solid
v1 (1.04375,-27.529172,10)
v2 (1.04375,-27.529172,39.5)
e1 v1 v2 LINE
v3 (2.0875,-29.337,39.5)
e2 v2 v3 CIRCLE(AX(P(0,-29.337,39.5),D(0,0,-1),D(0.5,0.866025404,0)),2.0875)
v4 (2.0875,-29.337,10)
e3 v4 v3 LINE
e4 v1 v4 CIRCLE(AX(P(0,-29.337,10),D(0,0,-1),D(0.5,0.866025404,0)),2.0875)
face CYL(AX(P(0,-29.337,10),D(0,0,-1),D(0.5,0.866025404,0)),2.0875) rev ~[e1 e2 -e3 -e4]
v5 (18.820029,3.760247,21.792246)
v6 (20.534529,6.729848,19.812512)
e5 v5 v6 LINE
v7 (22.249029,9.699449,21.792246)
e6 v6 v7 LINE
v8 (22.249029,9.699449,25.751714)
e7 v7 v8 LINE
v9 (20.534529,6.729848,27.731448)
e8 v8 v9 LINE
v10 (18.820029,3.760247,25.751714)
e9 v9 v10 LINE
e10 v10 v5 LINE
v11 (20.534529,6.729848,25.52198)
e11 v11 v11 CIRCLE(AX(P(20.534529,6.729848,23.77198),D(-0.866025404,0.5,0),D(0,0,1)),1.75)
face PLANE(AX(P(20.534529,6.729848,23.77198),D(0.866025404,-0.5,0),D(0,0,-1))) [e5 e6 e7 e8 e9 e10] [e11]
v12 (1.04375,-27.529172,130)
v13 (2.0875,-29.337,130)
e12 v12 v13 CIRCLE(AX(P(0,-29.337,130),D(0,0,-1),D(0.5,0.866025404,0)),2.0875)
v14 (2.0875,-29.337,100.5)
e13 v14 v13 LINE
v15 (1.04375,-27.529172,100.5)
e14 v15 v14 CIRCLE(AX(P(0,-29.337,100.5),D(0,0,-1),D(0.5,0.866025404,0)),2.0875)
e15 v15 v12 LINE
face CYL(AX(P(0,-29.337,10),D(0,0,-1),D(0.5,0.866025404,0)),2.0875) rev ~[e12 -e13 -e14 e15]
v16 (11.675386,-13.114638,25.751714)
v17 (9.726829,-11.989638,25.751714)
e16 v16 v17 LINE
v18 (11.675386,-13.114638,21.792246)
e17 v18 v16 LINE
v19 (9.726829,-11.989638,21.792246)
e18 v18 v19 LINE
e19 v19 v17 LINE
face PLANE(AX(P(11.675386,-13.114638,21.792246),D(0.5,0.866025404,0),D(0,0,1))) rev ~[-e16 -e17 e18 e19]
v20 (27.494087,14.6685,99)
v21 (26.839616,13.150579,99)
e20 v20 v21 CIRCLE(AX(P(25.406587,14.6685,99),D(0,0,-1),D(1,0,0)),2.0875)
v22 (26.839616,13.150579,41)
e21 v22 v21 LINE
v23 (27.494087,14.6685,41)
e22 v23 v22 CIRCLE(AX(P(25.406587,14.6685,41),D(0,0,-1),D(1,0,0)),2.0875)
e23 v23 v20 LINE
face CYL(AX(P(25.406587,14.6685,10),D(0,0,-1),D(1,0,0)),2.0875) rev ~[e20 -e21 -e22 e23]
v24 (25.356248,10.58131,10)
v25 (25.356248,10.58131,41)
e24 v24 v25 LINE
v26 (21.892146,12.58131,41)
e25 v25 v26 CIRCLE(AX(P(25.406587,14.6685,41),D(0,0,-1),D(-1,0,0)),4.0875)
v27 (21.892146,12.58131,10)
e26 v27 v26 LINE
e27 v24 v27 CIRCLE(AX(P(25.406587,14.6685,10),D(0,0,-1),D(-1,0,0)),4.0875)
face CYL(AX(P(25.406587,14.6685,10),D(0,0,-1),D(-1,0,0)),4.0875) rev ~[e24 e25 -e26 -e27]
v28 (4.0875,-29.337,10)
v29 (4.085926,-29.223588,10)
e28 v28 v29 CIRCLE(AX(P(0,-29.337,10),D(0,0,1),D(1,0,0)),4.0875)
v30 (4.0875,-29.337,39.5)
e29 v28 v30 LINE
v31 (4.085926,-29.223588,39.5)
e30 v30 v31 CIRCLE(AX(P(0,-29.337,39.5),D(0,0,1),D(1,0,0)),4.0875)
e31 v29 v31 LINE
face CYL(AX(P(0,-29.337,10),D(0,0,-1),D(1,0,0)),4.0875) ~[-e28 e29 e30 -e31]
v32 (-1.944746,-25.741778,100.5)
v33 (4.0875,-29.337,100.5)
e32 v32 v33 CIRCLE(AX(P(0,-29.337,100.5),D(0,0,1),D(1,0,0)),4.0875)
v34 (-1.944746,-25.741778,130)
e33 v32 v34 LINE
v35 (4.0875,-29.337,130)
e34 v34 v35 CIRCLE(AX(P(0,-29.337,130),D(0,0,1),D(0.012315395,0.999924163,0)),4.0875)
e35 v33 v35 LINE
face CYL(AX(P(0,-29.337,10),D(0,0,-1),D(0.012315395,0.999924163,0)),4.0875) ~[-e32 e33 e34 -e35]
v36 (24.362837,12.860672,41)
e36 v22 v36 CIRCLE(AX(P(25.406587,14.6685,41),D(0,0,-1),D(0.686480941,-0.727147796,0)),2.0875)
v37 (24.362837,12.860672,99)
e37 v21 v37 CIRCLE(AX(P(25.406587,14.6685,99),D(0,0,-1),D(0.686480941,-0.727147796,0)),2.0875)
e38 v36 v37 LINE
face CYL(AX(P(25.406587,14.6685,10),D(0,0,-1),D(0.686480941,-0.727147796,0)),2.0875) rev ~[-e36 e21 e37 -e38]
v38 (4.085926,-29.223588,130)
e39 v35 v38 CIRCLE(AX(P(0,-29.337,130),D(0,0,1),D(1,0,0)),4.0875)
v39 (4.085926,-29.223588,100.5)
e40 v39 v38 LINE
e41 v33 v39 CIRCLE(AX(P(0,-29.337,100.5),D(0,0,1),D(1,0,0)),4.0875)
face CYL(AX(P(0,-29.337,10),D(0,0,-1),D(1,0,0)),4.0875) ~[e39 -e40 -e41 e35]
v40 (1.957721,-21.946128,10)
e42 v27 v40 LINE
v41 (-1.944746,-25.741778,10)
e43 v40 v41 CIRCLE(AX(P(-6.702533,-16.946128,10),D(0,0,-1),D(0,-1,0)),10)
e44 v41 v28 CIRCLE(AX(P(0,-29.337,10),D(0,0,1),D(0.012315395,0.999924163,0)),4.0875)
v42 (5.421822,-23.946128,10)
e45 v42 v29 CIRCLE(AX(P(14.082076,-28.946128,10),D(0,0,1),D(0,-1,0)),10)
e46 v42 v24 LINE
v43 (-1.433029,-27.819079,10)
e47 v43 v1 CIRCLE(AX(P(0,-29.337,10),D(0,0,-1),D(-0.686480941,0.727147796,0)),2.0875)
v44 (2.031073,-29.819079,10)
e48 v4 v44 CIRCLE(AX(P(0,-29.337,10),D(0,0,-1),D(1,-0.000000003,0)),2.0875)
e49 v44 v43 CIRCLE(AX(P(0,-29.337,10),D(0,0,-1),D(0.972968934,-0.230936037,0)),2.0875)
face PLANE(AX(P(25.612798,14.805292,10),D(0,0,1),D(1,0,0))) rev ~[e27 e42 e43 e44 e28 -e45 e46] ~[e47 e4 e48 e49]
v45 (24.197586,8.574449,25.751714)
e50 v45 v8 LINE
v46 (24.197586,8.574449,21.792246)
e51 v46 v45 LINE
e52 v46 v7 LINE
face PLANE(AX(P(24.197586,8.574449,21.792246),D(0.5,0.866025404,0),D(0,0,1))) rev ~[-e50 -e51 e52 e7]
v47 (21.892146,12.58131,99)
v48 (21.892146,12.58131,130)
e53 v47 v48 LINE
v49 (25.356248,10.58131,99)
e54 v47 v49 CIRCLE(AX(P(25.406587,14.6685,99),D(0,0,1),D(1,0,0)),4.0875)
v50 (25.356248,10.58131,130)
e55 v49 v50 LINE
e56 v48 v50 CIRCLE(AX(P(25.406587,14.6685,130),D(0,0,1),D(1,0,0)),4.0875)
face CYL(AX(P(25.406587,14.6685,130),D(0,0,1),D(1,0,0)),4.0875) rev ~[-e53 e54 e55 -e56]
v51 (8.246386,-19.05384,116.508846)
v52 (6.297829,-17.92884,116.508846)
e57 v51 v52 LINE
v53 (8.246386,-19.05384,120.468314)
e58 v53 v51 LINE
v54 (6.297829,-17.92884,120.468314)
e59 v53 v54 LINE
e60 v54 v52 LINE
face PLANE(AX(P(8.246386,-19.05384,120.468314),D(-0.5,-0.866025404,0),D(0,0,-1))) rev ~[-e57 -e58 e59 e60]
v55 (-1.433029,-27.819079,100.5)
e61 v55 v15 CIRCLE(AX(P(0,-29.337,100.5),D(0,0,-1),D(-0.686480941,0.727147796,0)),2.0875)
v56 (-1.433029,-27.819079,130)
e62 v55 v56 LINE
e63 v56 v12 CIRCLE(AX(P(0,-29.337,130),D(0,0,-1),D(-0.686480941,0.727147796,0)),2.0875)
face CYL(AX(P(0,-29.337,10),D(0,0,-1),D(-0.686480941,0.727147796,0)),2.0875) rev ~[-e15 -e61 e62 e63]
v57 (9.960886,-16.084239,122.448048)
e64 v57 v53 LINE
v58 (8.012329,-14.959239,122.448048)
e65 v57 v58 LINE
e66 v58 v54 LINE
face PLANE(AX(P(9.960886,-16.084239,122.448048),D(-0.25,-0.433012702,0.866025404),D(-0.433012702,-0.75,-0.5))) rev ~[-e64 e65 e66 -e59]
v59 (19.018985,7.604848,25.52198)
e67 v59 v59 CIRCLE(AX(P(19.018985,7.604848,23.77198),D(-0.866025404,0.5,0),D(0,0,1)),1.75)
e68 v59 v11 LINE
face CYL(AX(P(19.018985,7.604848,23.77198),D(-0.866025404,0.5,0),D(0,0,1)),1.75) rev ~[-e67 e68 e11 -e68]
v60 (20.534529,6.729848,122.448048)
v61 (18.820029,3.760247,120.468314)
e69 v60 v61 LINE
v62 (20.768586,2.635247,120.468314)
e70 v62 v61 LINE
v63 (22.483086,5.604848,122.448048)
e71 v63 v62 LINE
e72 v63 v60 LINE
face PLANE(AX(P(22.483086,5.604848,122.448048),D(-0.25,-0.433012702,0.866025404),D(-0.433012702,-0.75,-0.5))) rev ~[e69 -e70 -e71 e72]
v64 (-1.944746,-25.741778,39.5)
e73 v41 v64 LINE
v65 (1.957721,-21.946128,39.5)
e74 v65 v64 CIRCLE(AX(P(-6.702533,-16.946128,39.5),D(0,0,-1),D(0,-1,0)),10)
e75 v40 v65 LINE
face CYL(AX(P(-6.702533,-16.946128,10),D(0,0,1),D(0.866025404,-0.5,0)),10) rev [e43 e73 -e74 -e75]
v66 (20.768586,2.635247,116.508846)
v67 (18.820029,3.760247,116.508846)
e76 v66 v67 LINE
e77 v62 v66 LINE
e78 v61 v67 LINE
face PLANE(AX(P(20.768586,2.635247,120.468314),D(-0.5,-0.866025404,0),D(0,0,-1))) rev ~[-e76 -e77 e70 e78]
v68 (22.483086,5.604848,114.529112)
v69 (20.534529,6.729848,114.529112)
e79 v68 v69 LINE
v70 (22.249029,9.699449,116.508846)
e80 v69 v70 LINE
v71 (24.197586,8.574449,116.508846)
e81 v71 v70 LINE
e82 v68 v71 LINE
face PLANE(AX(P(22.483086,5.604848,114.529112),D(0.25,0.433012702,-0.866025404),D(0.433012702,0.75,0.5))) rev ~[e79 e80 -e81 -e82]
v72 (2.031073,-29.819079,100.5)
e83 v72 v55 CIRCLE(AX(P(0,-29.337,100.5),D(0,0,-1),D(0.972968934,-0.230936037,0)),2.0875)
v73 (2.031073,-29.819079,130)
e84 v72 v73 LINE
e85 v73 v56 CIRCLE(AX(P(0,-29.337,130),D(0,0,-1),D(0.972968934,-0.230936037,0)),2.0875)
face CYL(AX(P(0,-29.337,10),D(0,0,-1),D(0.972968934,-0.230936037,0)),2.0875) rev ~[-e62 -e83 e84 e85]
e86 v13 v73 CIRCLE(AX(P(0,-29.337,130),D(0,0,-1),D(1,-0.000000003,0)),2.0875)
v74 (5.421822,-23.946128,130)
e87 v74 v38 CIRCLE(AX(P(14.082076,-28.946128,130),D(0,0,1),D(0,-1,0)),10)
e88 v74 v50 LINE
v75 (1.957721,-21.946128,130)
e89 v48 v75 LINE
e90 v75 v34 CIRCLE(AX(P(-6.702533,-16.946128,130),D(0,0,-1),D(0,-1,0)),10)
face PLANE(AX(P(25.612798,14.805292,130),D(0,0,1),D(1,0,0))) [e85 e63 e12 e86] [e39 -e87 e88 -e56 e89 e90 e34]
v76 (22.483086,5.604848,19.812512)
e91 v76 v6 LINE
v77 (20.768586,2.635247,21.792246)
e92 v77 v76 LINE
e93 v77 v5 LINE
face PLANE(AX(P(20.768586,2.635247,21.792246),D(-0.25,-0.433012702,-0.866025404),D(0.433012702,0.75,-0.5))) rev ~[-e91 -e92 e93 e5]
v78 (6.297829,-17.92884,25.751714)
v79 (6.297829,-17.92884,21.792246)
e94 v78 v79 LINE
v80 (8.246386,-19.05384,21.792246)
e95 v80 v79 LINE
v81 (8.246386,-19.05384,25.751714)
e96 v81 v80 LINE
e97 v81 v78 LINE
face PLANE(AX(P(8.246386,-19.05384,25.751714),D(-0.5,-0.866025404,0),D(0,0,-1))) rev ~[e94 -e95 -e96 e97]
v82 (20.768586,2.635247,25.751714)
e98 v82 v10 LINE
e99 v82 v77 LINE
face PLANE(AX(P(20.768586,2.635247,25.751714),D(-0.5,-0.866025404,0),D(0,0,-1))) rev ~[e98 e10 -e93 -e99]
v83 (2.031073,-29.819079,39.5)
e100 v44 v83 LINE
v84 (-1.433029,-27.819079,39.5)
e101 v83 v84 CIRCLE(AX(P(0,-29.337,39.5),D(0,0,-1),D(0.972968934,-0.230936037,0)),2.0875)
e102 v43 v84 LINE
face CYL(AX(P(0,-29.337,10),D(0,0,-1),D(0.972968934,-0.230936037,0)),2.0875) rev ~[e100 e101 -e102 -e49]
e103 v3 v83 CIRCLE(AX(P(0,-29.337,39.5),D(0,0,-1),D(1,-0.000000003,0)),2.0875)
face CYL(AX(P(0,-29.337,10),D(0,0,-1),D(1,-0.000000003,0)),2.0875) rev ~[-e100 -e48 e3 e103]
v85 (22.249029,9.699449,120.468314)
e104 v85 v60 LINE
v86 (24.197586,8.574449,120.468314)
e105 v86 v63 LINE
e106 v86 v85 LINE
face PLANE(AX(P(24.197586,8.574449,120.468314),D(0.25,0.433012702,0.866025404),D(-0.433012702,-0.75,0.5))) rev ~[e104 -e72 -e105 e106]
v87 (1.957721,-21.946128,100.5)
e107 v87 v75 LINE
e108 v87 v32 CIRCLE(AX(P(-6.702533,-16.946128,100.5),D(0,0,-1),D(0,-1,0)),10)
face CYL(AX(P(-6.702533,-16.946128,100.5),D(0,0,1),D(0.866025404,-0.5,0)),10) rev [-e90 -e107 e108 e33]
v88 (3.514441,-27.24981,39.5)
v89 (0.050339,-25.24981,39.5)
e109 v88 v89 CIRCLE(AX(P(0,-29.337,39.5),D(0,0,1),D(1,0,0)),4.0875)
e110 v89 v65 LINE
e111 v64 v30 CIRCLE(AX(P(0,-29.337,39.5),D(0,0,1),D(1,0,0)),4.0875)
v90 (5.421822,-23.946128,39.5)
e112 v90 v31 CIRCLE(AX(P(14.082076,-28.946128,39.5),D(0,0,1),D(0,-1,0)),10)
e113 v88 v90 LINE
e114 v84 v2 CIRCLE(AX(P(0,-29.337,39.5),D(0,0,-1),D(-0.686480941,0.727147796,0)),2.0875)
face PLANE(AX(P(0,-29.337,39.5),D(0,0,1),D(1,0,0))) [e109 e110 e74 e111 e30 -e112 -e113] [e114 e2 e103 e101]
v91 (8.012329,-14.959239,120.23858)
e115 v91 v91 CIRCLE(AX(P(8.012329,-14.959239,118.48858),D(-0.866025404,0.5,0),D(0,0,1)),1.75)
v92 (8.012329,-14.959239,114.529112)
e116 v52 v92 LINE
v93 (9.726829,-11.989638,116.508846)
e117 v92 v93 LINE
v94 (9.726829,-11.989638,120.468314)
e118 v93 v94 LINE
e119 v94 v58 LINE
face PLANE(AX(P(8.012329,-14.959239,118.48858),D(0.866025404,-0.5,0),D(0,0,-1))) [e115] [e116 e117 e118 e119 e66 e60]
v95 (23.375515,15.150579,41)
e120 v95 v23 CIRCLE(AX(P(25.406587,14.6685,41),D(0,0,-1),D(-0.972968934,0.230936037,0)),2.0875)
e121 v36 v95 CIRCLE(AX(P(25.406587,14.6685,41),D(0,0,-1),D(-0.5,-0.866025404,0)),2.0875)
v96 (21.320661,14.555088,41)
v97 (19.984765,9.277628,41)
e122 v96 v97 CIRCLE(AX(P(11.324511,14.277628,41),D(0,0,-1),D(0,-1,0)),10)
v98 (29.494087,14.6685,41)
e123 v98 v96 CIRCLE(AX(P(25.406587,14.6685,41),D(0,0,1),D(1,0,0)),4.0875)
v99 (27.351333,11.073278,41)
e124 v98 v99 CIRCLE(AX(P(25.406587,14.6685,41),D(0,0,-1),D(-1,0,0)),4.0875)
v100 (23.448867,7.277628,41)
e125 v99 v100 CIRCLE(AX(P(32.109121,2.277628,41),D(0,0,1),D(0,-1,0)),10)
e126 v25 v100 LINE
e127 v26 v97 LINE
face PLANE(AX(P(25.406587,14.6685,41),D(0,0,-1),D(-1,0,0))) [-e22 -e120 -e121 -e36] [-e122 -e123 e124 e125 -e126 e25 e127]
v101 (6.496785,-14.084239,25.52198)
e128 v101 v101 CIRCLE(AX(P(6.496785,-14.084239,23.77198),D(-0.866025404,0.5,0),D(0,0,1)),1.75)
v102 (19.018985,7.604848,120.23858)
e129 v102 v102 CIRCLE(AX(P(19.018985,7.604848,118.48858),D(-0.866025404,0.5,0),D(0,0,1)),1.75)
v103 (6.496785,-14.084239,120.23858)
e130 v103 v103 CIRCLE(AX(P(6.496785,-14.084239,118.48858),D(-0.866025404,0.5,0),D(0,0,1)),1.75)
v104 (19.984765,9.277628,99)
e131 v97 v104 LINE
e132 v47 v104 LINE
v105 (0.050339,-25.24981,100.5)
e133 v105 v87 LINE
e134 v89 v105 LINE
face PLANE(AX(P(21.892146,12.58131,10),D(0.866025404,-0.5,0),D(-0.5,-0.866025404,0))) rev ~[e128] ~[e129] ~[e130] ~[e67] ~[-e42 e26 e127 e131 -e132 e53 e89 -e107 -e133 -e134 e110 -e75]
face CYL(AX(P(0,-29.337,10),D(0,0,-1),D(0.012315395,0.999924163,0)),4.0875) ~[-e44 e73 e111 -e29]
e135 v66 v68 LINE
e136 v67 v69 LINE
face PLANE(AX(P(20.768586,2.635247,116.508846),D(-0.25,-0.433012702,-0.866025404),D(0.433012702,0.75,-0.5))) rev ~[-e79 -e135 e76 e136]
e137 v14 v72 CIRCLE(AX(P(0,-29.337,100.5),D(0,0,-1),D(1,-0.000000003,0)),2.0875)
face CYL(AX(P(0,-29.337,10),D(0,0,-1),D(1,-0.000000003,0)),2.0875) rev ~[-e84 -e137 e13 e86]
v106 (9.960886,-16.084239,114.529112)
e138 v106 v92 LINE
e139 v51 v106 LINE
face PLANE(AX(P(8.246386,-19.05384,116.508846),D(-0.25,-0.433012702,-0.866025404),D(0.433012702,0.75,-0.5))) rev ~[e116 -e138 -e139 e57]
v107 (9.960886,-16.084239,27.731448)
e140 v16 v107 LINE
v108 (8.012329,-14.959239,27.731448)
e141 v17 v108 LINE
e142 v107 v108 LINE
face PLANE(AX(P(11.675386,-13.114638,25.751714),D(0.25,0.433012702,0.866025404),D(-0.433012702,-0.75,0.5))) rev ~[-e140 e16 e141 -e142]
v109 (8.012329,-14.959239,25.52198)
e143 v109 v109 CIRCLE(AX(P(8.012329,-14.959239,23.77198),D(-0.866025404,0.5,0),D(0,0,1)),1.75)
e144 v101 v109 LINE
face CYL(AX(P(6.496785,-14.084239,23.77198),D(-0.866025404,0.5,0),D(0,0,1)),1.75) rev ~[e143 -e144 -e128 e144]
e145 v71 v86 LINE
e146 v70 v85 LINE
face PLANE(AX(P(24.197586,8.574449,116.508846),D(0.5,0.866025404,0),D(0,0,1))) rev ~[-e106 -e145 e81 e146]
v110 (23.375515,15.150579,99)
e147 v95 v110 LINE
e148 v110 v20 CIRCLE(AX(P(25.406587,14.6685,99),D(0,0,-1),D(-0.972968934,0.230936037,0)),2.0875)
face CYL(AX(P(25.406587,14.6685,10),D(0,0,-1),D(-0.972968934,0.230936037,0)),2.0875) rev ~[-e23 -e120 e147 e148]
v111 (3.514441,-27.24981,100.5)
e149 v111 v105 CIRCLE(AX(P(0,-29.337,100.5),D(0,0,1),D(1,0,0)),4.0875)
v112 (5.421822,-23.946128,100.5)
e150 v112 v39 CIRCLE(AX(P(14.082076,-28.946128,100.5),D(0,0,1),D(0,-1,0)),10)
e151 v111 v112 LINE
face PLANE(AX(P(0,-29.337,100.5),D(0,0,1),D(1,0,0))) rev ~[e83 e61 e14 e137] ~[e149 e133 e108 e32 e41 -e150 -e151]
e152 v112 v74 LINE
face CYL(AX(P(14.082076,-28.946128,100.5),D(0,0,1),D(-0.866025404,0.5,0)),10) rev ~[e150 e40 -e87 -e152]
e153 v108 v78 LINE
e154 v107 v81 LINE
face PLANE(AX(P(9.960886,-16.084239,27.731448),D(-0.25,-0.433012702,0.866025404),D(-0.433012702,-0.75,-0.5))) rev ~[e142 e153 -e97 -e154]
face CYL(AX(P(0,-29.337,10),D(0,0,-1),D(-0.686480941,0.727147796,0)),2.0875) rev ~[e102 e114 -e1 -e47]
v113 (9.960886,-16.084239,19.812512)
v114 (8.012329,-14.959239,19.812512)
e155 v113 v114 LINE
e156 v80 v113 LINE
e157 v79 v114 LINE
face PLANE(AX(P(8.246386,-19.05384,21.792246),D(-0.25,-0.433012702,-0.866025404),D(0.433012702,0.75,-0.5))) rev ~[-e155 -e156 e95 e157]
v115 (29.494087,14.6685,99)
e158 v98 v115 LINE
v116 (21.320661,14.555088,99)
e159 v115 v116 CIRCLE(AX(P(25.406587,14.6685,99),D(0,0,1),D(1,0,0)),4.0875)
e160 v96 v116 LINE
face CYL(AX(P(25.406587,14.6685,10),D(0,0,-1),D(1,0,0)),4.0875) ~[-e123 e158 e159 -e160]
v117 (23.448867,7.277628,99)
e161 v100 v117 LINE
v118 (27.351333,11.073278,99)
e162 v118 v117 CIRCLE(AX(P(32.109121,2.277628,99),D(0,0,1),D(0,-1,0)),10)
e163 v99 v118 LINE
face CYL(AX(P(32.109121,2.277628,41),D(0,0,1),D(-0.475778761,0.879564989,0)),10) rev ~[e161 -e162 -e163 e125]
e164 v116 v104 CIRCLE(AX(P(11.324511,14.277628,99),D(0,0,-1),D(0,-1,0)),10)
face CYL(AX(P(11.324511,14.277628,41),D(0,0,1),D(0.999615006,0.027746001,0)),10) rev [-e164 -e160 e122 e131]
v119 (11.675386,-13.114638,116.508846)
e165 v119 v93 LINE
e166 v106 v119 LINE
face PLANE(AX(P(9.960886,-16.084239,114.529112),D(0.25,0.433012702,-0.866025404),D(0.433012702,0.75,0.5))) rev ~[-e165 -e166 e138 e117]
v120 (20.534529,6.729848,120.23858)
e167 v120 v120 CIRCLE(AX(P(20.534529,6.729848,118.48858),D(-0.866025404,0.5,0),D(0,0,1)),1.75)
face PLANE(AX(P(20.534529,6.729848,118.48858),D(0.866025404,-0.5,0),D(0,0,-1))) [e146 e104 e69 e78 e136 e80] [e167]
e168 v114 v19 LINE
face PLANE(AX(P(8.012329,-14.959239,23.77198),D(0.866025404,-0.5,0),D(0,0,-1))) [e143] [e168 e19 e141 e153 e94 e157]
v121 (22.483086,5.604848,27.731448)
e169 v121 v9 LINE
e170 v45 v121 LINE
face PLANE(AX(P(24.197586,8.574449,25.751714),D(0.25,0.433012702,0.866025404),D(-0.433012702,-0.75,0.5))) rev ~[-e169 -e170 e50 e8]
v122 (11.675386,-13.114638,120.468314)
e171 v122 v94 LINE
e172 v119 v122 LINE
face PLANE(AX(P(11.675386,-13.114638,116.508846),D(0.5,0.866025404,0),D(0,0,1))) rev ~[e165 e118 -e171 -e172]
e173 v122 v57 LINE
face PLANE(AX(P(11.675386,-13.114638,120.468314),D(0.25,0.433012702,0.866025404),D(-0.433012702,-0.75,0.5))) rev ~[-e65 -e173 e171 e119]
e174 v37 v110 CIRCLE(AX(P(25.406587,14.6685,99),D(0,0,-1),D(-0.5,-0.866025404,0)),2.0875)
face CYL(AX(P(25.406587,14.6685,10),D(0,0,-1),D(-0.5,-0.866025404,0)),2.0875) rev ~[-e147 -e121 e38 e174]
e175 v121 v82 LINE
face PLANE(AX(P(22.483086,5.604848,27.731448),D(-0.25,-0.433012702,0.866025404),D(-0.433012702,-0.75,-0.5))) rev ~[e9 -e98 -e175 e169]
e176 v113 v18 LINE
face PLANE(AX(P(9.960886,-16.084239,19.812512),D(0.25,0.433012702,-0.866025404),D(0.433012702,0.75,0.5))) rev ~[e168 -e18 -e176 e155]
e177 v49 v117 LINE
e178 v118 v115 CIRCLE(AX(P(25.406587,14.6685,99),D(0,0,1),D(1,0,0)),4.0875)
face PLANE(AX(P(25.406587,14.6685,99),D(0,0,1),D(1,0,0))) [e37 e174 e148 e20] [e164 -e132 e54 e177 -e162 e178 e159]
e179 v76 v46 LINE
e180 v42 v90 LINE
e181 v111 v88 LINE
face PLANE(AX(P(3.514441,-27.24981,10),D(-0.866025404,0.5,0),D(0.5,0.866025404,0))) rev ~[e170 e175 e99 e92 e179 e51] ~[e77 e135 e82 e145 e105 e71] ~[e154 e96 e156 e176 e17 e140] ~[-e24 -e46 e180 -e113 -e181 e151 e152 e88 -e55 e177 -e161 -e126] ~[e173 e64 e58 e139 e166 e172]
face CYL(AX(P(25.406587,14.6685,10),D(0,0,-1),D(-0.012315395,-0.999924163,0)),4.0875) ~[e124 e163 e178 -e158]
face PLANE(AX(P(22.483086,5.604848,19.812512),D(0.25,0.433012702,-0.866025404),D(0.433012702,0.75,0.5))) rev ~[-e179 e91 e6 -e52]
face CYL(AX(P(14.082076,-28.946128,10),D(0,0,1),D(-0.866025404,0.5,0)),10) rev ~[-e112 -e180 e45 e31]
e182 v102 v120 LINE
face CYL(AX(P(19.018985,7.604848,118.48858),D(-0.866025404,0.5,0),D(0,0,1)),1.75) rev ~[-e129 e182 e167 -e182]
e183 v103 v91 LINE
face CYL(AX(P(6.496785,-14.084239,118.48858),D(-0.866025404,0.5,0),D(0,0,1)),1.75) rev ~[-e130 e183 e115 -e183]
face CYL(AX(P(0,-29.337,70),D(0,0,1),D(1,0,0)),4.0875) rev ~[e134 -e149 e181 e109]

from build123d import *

# Parameters (mm, degrees)
SKETCH2_R               = 1.5875
BOSS_EXTRUDE1_DEPTH     = 10
BOSS_EXTRUDE2_DEPTH     = 120
SKETCH4_R               = 4.0875
CUT_EXTRUDE1_DEPTH      = 30.5
CUT_EXTRUDE1_DEPTH_BACK = 30.5
SKETCH5_R               = 4.0875
CUT_EXTRUDE2_DEPTH      = 31
SKETCH6_R               = 4.0875
CUT_EXTRUDE3_DEPTH      = 31
FILLET1_R               = 10
SKETCH7_R               = 1.75
CUT_EXTRUDE4_DEPTH      = 4
CUT_EXTRUDE5_DEPTH      = 2.25


with BuildPart() as part:
    # Sketch2 → Boss-Extrude1 (new body)
    with BuildSketch(Plane.XY):
        with BuildLine():
            Line((0, -27.7495), (0, 0))
            Line((0, 0), (38.1, 0))
            ThreePointArc((38.1, 0), (-26.940768363, 26.940768363), (0, -38.1))
            Line((0, -38.1), (0, -30.9245))
            ThreePointArc((0, -30.9245), (-1.5875, -29.337), (0, -27.7495))
        make_face()
        with Locations((-25.406587271, 14.6685)):
            Circle(SKETCH2_R, mode=Mode.SUBTRACT)
        with Locations((25.406587271, 14.6685)):
            Circle(SKETCH2_R, mode=Mode.SUBTRACT)
        with BuildLine():
            Line((38.1, 0), (0, 0))
            Line((0, 0), (0, -27.7495))
            ThreePointArc((0, -27.7495), (1.122532015, -28.214467985), (1.5875, -29.337))
            ThreePointArc((1.5875, -29.337), (1.122532015, -30.459532015), (0, -30.9245))
            Line((0, -30.9245), (0, -38.1))
            ThreePointArc((0, -38.1), (26.940768363, -26.940768363), (38.1, 0))
        make_face()
    extrude(amount=BOSS_EXTRUDE1_DEPTH)


with BuildPart() as body_2:
    # Sketch3 → Boss-Extrude2 (new body)
    with BuildSketch(Plane.XY.offset(10)):
        with BuildLine():
            ThreePointArc((29.494087271, 14.6685), (24.324372064, 18.610132466), (21.892146477, 12.581309985))
            Line((21.892146477, 12.581309985), (23.37551462, 15.150578976))
            ThreePointArc((23.37551462, 15.150578976), (25.649272347, 16.741845172), (27.494087271, 14.6685))
            ThreePointArc((27.494087271, 14.6685), (27.323499399, 13.841998855), (26.839616236, 13.150578976))
            Line((26.839616236, 13.150578976), (25.356248092, 10.581309985))
            ThreePointArc((25.356248092, 10.581309985), (28.279033516, 11.760457906), (29.494087271, 14.6685))
        make_face()
        with BuildLine():
            Line((24.362837271, 12.86067197), (23.362837271, 11.128621162))
            ThreePointArc((23.362837271, 11.128621162), (24.324372064, 10.726867534), (25.356248092, 10.581309985))
            Line((25.356248092, 10.581309985), (26.839616236, 13.150578976))
            ThreePointArc((26.839616236, 13.150578976), (25.649272347, 12.595154828), (24.362837271, 12.86067197))
        make_face()
        with BuildLine():
            ThreePointArc((21.892146477, 12.581309985), (22.534141026, 11.760457906), (23.362837271, 11.128621162))
            Line((23.362837271, 11.128621162), (24.362837271, 12.86067197))
            ThreePointArc((24.362837271, 12.86067197), (23.489675143, 13.841998855), (23.37551462, 15.150578976))
            Line((23.37551462, 15.150578976), (21.892146477, 12.581309985))
        make_face()
        with BuildLine():
            Line((23.362837271, 11.128621162), (2.04375, -25.797121162))
            ThreePointArc((2.04375, -25.797121162), (2.872446245, -26.428957906), (3.514440794, -27.249809985))
            Line((3.514440794, -27.249809985), (25.356248092, 10.581309985))
            ThreePointArc((25.356248092, 10.581309985), (24.324372064, 10.726867534), (23.362837271, 11.128621162))
        make_face()
        with BuildLine():
            ThreePointArc((0.050339179, -25.249809985), (1.082215206, -25.395367534), (2.04375, -25.797121162))
            Line((2.04375, -25.797121162), (23.362837271, 11.128621162))
            ThreePointArc((23.362837271, 11.128621162), (22.534141026, 11.760457906), (21.892146477, 12.581309985))
            Line((21.892146477, 12.581309985), (0.050339179, -25.249809985))
        make_face()
        with BuildLine():
            ThreePointArc((-1.433028965, -27.819078976), (-0.242685076, -27.263654828), (1.04375, -27.52917197))
            Line((1.04375, -27.52917197), (2.04375, -25.797121162))
            ThreePointArc((2.04375, -25.797121162), (1.082215206, -25.395367534), (0.050339179, -25.249809985))
            Line((0.050339179, -25.249809985), (-1.433028965, -27.819078976))
        make_face()
        with BuildLine():
            Line((2.04375, -25.797121162), (1.04375, -27.52917197))
            ThreePointArc((1.04375, -27.52917197), (1.80782803, -28.29325), (2.0875, -29.337))
            ThreePointArc((2.0875, -29.337), (2.073345172, -29.579685076), (2.03107265, -29.819078976))
            Line((2.03107265, -29.819078976), (3.514440794, -27.249809985))
            ThreePointArc((3.514440794, -27.249809985), (2.872446245, -26.428957906), (2.04375, -25.797121162))
        make_face()
        with BuildLine():
            ThreePointArc((2.03107265, -29.819078976), (-1.04375, -31.14482803), (-1.433028965, -27.819078976))
            Line((-1.433028965, -27.819078976), (0.050339179, -25.249809985))
            ThreePointArc((0.050339179, -25.249809985), (-2.908042094, -32.209446245), (4.0875, -29.337))
            ThreePointArc((4.0875, -29.337), (3.941632466, -28.254784794), (3.514440794, -27.249809985))
            Line((3.514440794, -27.249809985), (2.03107265, -29.819078976))
        make_face()
    extrude(amount=BOSS_EXTRUDE2_DEPTH)

    # Sketch4 → Cut-Extrude1 (cut, two sides)
    with BuildSketch(Plane.XY.offset(70)) as cut_extrude1_sk:
        with Locations((0, -29.337)):
            Circle(SKETCH4_R)
    extrude(amount=CUT_EXTRUDE1_DEPTH, mode=Mode.SUBTRACT)
    extrude(cut_extrude1_sk.sketch, amount=-CUT_EXTRUDE1_DEPTH_BACK, mode=Mode.SUBTRACT)

    # Sketch5 → Cut-Extrude2 (cut)
    with BuildSketch(Plane(origin=(0, 0, 10), x_dir=(-1, 0, 0), z_dir=(0, 0, -1))):
        with Locations((-25.406587271, 14.6685)):
            Circle(SKETCH5_R)
    extrude(amount=-CUT_EXTRUDE2_DEPTH, mode=Mode.SUBTRACT)

    # Sketch6 → Cut-Extrude3 (cut)
    with BuildSketch(Plane.XY.offset(130)):
        with Locations((25.406587271, 14.6685)):
            Circle(SKETCH6_R)
    extrude(amount=-CUT_EXTRUDE3_DEPTH, mode=Mode.SUBTRACT)

    # Fillet1
    fillet1_edges = [body_2.edges().sort_by_distance(p)[0] for p in [
        (0.050339179, -25.249809985, 115.25),
        (3.514440794, -27.249809985, 115.25),
        (0.050339179, -25.249809985, 24.75),
        (3.514440794, -27.249809985, 24.75),
        (21.892146477, 12.581309985, 70),
        (25.356248092, 10.581309985, 70),
    ]]
    fillet(fillet1_edges, radius=FILLET1_R)

    # Sketch7 → Cut-Extrude4 (cut)
    with BuildSketch(Plane(origin=(10.971242828, -6.33425, 0), x_dir=(0, 0, 1), z_dir=(-0.866025404, 0.5, 0))):
        with Locations((23.771980031, -8.948916416)):
            Circle(SKETCH7_R)
        with Locations((23.771980031, 16.095483584)):
            Circle(SKETCH7_R)
        with Locations((118.488580031, 16.095483584)):
            Circle(SKETCH7_R)
        with Locations((118.488580031, -8.948916416)):
            Circle(SKETCH7_R)
    extrude(amount=-CUT_EXTRUDE4_DEPTH, mode=Mode.SUBTRACT)

    # Sketch8 → Cut-Extrude5 (cut)
    with BuildSketch(Plane(origin=(14.435344443, -8.33425, 0), x_dir=(0, 0, -1), z_dir=(0.866025404, -0.5, 0))):
        Polygon((-19.812511885, 16.095483584), (-21.792245958, 19.524483584), (-25.751714104, 19.524483584), (-27.731448177, 16.095483584), (-25.751714104, 12.666483584), (-21.792245958, 12.666483584), align=None)
        Polygon((-19.812511885, -8.948916416), (-21.792245958, -5.519916416), (-25.751714104, -5.519916416), (-27.731448177, -8.948916416), (-25.751714104, -12.377916416), (-21.792245958, -12.377916416), align=None)
        Polygon((-114.529111885, 16.095483584), (-116.508845958, 19.524483584), (-120.468314104, 19.524483584), (-122.448048177, 16.095483584), (-120.468314104, 12.666483584), (-116.508845958, 12.666483584), align=None)
        Polygon((-114.529111885, -8.948916416), (-116.508845958, -5.519916416), (-120.468314104, -5.519916416), (-122.448048177, -8.948916416), (-120.468314104, -12.377916416), (-116.508845958, -12.377916416), align=None)
    extrude(amount=-CUT_EXTRUDE5_DEPTH, mode=Mode.SUBTRACT)


solid = body_2.part
